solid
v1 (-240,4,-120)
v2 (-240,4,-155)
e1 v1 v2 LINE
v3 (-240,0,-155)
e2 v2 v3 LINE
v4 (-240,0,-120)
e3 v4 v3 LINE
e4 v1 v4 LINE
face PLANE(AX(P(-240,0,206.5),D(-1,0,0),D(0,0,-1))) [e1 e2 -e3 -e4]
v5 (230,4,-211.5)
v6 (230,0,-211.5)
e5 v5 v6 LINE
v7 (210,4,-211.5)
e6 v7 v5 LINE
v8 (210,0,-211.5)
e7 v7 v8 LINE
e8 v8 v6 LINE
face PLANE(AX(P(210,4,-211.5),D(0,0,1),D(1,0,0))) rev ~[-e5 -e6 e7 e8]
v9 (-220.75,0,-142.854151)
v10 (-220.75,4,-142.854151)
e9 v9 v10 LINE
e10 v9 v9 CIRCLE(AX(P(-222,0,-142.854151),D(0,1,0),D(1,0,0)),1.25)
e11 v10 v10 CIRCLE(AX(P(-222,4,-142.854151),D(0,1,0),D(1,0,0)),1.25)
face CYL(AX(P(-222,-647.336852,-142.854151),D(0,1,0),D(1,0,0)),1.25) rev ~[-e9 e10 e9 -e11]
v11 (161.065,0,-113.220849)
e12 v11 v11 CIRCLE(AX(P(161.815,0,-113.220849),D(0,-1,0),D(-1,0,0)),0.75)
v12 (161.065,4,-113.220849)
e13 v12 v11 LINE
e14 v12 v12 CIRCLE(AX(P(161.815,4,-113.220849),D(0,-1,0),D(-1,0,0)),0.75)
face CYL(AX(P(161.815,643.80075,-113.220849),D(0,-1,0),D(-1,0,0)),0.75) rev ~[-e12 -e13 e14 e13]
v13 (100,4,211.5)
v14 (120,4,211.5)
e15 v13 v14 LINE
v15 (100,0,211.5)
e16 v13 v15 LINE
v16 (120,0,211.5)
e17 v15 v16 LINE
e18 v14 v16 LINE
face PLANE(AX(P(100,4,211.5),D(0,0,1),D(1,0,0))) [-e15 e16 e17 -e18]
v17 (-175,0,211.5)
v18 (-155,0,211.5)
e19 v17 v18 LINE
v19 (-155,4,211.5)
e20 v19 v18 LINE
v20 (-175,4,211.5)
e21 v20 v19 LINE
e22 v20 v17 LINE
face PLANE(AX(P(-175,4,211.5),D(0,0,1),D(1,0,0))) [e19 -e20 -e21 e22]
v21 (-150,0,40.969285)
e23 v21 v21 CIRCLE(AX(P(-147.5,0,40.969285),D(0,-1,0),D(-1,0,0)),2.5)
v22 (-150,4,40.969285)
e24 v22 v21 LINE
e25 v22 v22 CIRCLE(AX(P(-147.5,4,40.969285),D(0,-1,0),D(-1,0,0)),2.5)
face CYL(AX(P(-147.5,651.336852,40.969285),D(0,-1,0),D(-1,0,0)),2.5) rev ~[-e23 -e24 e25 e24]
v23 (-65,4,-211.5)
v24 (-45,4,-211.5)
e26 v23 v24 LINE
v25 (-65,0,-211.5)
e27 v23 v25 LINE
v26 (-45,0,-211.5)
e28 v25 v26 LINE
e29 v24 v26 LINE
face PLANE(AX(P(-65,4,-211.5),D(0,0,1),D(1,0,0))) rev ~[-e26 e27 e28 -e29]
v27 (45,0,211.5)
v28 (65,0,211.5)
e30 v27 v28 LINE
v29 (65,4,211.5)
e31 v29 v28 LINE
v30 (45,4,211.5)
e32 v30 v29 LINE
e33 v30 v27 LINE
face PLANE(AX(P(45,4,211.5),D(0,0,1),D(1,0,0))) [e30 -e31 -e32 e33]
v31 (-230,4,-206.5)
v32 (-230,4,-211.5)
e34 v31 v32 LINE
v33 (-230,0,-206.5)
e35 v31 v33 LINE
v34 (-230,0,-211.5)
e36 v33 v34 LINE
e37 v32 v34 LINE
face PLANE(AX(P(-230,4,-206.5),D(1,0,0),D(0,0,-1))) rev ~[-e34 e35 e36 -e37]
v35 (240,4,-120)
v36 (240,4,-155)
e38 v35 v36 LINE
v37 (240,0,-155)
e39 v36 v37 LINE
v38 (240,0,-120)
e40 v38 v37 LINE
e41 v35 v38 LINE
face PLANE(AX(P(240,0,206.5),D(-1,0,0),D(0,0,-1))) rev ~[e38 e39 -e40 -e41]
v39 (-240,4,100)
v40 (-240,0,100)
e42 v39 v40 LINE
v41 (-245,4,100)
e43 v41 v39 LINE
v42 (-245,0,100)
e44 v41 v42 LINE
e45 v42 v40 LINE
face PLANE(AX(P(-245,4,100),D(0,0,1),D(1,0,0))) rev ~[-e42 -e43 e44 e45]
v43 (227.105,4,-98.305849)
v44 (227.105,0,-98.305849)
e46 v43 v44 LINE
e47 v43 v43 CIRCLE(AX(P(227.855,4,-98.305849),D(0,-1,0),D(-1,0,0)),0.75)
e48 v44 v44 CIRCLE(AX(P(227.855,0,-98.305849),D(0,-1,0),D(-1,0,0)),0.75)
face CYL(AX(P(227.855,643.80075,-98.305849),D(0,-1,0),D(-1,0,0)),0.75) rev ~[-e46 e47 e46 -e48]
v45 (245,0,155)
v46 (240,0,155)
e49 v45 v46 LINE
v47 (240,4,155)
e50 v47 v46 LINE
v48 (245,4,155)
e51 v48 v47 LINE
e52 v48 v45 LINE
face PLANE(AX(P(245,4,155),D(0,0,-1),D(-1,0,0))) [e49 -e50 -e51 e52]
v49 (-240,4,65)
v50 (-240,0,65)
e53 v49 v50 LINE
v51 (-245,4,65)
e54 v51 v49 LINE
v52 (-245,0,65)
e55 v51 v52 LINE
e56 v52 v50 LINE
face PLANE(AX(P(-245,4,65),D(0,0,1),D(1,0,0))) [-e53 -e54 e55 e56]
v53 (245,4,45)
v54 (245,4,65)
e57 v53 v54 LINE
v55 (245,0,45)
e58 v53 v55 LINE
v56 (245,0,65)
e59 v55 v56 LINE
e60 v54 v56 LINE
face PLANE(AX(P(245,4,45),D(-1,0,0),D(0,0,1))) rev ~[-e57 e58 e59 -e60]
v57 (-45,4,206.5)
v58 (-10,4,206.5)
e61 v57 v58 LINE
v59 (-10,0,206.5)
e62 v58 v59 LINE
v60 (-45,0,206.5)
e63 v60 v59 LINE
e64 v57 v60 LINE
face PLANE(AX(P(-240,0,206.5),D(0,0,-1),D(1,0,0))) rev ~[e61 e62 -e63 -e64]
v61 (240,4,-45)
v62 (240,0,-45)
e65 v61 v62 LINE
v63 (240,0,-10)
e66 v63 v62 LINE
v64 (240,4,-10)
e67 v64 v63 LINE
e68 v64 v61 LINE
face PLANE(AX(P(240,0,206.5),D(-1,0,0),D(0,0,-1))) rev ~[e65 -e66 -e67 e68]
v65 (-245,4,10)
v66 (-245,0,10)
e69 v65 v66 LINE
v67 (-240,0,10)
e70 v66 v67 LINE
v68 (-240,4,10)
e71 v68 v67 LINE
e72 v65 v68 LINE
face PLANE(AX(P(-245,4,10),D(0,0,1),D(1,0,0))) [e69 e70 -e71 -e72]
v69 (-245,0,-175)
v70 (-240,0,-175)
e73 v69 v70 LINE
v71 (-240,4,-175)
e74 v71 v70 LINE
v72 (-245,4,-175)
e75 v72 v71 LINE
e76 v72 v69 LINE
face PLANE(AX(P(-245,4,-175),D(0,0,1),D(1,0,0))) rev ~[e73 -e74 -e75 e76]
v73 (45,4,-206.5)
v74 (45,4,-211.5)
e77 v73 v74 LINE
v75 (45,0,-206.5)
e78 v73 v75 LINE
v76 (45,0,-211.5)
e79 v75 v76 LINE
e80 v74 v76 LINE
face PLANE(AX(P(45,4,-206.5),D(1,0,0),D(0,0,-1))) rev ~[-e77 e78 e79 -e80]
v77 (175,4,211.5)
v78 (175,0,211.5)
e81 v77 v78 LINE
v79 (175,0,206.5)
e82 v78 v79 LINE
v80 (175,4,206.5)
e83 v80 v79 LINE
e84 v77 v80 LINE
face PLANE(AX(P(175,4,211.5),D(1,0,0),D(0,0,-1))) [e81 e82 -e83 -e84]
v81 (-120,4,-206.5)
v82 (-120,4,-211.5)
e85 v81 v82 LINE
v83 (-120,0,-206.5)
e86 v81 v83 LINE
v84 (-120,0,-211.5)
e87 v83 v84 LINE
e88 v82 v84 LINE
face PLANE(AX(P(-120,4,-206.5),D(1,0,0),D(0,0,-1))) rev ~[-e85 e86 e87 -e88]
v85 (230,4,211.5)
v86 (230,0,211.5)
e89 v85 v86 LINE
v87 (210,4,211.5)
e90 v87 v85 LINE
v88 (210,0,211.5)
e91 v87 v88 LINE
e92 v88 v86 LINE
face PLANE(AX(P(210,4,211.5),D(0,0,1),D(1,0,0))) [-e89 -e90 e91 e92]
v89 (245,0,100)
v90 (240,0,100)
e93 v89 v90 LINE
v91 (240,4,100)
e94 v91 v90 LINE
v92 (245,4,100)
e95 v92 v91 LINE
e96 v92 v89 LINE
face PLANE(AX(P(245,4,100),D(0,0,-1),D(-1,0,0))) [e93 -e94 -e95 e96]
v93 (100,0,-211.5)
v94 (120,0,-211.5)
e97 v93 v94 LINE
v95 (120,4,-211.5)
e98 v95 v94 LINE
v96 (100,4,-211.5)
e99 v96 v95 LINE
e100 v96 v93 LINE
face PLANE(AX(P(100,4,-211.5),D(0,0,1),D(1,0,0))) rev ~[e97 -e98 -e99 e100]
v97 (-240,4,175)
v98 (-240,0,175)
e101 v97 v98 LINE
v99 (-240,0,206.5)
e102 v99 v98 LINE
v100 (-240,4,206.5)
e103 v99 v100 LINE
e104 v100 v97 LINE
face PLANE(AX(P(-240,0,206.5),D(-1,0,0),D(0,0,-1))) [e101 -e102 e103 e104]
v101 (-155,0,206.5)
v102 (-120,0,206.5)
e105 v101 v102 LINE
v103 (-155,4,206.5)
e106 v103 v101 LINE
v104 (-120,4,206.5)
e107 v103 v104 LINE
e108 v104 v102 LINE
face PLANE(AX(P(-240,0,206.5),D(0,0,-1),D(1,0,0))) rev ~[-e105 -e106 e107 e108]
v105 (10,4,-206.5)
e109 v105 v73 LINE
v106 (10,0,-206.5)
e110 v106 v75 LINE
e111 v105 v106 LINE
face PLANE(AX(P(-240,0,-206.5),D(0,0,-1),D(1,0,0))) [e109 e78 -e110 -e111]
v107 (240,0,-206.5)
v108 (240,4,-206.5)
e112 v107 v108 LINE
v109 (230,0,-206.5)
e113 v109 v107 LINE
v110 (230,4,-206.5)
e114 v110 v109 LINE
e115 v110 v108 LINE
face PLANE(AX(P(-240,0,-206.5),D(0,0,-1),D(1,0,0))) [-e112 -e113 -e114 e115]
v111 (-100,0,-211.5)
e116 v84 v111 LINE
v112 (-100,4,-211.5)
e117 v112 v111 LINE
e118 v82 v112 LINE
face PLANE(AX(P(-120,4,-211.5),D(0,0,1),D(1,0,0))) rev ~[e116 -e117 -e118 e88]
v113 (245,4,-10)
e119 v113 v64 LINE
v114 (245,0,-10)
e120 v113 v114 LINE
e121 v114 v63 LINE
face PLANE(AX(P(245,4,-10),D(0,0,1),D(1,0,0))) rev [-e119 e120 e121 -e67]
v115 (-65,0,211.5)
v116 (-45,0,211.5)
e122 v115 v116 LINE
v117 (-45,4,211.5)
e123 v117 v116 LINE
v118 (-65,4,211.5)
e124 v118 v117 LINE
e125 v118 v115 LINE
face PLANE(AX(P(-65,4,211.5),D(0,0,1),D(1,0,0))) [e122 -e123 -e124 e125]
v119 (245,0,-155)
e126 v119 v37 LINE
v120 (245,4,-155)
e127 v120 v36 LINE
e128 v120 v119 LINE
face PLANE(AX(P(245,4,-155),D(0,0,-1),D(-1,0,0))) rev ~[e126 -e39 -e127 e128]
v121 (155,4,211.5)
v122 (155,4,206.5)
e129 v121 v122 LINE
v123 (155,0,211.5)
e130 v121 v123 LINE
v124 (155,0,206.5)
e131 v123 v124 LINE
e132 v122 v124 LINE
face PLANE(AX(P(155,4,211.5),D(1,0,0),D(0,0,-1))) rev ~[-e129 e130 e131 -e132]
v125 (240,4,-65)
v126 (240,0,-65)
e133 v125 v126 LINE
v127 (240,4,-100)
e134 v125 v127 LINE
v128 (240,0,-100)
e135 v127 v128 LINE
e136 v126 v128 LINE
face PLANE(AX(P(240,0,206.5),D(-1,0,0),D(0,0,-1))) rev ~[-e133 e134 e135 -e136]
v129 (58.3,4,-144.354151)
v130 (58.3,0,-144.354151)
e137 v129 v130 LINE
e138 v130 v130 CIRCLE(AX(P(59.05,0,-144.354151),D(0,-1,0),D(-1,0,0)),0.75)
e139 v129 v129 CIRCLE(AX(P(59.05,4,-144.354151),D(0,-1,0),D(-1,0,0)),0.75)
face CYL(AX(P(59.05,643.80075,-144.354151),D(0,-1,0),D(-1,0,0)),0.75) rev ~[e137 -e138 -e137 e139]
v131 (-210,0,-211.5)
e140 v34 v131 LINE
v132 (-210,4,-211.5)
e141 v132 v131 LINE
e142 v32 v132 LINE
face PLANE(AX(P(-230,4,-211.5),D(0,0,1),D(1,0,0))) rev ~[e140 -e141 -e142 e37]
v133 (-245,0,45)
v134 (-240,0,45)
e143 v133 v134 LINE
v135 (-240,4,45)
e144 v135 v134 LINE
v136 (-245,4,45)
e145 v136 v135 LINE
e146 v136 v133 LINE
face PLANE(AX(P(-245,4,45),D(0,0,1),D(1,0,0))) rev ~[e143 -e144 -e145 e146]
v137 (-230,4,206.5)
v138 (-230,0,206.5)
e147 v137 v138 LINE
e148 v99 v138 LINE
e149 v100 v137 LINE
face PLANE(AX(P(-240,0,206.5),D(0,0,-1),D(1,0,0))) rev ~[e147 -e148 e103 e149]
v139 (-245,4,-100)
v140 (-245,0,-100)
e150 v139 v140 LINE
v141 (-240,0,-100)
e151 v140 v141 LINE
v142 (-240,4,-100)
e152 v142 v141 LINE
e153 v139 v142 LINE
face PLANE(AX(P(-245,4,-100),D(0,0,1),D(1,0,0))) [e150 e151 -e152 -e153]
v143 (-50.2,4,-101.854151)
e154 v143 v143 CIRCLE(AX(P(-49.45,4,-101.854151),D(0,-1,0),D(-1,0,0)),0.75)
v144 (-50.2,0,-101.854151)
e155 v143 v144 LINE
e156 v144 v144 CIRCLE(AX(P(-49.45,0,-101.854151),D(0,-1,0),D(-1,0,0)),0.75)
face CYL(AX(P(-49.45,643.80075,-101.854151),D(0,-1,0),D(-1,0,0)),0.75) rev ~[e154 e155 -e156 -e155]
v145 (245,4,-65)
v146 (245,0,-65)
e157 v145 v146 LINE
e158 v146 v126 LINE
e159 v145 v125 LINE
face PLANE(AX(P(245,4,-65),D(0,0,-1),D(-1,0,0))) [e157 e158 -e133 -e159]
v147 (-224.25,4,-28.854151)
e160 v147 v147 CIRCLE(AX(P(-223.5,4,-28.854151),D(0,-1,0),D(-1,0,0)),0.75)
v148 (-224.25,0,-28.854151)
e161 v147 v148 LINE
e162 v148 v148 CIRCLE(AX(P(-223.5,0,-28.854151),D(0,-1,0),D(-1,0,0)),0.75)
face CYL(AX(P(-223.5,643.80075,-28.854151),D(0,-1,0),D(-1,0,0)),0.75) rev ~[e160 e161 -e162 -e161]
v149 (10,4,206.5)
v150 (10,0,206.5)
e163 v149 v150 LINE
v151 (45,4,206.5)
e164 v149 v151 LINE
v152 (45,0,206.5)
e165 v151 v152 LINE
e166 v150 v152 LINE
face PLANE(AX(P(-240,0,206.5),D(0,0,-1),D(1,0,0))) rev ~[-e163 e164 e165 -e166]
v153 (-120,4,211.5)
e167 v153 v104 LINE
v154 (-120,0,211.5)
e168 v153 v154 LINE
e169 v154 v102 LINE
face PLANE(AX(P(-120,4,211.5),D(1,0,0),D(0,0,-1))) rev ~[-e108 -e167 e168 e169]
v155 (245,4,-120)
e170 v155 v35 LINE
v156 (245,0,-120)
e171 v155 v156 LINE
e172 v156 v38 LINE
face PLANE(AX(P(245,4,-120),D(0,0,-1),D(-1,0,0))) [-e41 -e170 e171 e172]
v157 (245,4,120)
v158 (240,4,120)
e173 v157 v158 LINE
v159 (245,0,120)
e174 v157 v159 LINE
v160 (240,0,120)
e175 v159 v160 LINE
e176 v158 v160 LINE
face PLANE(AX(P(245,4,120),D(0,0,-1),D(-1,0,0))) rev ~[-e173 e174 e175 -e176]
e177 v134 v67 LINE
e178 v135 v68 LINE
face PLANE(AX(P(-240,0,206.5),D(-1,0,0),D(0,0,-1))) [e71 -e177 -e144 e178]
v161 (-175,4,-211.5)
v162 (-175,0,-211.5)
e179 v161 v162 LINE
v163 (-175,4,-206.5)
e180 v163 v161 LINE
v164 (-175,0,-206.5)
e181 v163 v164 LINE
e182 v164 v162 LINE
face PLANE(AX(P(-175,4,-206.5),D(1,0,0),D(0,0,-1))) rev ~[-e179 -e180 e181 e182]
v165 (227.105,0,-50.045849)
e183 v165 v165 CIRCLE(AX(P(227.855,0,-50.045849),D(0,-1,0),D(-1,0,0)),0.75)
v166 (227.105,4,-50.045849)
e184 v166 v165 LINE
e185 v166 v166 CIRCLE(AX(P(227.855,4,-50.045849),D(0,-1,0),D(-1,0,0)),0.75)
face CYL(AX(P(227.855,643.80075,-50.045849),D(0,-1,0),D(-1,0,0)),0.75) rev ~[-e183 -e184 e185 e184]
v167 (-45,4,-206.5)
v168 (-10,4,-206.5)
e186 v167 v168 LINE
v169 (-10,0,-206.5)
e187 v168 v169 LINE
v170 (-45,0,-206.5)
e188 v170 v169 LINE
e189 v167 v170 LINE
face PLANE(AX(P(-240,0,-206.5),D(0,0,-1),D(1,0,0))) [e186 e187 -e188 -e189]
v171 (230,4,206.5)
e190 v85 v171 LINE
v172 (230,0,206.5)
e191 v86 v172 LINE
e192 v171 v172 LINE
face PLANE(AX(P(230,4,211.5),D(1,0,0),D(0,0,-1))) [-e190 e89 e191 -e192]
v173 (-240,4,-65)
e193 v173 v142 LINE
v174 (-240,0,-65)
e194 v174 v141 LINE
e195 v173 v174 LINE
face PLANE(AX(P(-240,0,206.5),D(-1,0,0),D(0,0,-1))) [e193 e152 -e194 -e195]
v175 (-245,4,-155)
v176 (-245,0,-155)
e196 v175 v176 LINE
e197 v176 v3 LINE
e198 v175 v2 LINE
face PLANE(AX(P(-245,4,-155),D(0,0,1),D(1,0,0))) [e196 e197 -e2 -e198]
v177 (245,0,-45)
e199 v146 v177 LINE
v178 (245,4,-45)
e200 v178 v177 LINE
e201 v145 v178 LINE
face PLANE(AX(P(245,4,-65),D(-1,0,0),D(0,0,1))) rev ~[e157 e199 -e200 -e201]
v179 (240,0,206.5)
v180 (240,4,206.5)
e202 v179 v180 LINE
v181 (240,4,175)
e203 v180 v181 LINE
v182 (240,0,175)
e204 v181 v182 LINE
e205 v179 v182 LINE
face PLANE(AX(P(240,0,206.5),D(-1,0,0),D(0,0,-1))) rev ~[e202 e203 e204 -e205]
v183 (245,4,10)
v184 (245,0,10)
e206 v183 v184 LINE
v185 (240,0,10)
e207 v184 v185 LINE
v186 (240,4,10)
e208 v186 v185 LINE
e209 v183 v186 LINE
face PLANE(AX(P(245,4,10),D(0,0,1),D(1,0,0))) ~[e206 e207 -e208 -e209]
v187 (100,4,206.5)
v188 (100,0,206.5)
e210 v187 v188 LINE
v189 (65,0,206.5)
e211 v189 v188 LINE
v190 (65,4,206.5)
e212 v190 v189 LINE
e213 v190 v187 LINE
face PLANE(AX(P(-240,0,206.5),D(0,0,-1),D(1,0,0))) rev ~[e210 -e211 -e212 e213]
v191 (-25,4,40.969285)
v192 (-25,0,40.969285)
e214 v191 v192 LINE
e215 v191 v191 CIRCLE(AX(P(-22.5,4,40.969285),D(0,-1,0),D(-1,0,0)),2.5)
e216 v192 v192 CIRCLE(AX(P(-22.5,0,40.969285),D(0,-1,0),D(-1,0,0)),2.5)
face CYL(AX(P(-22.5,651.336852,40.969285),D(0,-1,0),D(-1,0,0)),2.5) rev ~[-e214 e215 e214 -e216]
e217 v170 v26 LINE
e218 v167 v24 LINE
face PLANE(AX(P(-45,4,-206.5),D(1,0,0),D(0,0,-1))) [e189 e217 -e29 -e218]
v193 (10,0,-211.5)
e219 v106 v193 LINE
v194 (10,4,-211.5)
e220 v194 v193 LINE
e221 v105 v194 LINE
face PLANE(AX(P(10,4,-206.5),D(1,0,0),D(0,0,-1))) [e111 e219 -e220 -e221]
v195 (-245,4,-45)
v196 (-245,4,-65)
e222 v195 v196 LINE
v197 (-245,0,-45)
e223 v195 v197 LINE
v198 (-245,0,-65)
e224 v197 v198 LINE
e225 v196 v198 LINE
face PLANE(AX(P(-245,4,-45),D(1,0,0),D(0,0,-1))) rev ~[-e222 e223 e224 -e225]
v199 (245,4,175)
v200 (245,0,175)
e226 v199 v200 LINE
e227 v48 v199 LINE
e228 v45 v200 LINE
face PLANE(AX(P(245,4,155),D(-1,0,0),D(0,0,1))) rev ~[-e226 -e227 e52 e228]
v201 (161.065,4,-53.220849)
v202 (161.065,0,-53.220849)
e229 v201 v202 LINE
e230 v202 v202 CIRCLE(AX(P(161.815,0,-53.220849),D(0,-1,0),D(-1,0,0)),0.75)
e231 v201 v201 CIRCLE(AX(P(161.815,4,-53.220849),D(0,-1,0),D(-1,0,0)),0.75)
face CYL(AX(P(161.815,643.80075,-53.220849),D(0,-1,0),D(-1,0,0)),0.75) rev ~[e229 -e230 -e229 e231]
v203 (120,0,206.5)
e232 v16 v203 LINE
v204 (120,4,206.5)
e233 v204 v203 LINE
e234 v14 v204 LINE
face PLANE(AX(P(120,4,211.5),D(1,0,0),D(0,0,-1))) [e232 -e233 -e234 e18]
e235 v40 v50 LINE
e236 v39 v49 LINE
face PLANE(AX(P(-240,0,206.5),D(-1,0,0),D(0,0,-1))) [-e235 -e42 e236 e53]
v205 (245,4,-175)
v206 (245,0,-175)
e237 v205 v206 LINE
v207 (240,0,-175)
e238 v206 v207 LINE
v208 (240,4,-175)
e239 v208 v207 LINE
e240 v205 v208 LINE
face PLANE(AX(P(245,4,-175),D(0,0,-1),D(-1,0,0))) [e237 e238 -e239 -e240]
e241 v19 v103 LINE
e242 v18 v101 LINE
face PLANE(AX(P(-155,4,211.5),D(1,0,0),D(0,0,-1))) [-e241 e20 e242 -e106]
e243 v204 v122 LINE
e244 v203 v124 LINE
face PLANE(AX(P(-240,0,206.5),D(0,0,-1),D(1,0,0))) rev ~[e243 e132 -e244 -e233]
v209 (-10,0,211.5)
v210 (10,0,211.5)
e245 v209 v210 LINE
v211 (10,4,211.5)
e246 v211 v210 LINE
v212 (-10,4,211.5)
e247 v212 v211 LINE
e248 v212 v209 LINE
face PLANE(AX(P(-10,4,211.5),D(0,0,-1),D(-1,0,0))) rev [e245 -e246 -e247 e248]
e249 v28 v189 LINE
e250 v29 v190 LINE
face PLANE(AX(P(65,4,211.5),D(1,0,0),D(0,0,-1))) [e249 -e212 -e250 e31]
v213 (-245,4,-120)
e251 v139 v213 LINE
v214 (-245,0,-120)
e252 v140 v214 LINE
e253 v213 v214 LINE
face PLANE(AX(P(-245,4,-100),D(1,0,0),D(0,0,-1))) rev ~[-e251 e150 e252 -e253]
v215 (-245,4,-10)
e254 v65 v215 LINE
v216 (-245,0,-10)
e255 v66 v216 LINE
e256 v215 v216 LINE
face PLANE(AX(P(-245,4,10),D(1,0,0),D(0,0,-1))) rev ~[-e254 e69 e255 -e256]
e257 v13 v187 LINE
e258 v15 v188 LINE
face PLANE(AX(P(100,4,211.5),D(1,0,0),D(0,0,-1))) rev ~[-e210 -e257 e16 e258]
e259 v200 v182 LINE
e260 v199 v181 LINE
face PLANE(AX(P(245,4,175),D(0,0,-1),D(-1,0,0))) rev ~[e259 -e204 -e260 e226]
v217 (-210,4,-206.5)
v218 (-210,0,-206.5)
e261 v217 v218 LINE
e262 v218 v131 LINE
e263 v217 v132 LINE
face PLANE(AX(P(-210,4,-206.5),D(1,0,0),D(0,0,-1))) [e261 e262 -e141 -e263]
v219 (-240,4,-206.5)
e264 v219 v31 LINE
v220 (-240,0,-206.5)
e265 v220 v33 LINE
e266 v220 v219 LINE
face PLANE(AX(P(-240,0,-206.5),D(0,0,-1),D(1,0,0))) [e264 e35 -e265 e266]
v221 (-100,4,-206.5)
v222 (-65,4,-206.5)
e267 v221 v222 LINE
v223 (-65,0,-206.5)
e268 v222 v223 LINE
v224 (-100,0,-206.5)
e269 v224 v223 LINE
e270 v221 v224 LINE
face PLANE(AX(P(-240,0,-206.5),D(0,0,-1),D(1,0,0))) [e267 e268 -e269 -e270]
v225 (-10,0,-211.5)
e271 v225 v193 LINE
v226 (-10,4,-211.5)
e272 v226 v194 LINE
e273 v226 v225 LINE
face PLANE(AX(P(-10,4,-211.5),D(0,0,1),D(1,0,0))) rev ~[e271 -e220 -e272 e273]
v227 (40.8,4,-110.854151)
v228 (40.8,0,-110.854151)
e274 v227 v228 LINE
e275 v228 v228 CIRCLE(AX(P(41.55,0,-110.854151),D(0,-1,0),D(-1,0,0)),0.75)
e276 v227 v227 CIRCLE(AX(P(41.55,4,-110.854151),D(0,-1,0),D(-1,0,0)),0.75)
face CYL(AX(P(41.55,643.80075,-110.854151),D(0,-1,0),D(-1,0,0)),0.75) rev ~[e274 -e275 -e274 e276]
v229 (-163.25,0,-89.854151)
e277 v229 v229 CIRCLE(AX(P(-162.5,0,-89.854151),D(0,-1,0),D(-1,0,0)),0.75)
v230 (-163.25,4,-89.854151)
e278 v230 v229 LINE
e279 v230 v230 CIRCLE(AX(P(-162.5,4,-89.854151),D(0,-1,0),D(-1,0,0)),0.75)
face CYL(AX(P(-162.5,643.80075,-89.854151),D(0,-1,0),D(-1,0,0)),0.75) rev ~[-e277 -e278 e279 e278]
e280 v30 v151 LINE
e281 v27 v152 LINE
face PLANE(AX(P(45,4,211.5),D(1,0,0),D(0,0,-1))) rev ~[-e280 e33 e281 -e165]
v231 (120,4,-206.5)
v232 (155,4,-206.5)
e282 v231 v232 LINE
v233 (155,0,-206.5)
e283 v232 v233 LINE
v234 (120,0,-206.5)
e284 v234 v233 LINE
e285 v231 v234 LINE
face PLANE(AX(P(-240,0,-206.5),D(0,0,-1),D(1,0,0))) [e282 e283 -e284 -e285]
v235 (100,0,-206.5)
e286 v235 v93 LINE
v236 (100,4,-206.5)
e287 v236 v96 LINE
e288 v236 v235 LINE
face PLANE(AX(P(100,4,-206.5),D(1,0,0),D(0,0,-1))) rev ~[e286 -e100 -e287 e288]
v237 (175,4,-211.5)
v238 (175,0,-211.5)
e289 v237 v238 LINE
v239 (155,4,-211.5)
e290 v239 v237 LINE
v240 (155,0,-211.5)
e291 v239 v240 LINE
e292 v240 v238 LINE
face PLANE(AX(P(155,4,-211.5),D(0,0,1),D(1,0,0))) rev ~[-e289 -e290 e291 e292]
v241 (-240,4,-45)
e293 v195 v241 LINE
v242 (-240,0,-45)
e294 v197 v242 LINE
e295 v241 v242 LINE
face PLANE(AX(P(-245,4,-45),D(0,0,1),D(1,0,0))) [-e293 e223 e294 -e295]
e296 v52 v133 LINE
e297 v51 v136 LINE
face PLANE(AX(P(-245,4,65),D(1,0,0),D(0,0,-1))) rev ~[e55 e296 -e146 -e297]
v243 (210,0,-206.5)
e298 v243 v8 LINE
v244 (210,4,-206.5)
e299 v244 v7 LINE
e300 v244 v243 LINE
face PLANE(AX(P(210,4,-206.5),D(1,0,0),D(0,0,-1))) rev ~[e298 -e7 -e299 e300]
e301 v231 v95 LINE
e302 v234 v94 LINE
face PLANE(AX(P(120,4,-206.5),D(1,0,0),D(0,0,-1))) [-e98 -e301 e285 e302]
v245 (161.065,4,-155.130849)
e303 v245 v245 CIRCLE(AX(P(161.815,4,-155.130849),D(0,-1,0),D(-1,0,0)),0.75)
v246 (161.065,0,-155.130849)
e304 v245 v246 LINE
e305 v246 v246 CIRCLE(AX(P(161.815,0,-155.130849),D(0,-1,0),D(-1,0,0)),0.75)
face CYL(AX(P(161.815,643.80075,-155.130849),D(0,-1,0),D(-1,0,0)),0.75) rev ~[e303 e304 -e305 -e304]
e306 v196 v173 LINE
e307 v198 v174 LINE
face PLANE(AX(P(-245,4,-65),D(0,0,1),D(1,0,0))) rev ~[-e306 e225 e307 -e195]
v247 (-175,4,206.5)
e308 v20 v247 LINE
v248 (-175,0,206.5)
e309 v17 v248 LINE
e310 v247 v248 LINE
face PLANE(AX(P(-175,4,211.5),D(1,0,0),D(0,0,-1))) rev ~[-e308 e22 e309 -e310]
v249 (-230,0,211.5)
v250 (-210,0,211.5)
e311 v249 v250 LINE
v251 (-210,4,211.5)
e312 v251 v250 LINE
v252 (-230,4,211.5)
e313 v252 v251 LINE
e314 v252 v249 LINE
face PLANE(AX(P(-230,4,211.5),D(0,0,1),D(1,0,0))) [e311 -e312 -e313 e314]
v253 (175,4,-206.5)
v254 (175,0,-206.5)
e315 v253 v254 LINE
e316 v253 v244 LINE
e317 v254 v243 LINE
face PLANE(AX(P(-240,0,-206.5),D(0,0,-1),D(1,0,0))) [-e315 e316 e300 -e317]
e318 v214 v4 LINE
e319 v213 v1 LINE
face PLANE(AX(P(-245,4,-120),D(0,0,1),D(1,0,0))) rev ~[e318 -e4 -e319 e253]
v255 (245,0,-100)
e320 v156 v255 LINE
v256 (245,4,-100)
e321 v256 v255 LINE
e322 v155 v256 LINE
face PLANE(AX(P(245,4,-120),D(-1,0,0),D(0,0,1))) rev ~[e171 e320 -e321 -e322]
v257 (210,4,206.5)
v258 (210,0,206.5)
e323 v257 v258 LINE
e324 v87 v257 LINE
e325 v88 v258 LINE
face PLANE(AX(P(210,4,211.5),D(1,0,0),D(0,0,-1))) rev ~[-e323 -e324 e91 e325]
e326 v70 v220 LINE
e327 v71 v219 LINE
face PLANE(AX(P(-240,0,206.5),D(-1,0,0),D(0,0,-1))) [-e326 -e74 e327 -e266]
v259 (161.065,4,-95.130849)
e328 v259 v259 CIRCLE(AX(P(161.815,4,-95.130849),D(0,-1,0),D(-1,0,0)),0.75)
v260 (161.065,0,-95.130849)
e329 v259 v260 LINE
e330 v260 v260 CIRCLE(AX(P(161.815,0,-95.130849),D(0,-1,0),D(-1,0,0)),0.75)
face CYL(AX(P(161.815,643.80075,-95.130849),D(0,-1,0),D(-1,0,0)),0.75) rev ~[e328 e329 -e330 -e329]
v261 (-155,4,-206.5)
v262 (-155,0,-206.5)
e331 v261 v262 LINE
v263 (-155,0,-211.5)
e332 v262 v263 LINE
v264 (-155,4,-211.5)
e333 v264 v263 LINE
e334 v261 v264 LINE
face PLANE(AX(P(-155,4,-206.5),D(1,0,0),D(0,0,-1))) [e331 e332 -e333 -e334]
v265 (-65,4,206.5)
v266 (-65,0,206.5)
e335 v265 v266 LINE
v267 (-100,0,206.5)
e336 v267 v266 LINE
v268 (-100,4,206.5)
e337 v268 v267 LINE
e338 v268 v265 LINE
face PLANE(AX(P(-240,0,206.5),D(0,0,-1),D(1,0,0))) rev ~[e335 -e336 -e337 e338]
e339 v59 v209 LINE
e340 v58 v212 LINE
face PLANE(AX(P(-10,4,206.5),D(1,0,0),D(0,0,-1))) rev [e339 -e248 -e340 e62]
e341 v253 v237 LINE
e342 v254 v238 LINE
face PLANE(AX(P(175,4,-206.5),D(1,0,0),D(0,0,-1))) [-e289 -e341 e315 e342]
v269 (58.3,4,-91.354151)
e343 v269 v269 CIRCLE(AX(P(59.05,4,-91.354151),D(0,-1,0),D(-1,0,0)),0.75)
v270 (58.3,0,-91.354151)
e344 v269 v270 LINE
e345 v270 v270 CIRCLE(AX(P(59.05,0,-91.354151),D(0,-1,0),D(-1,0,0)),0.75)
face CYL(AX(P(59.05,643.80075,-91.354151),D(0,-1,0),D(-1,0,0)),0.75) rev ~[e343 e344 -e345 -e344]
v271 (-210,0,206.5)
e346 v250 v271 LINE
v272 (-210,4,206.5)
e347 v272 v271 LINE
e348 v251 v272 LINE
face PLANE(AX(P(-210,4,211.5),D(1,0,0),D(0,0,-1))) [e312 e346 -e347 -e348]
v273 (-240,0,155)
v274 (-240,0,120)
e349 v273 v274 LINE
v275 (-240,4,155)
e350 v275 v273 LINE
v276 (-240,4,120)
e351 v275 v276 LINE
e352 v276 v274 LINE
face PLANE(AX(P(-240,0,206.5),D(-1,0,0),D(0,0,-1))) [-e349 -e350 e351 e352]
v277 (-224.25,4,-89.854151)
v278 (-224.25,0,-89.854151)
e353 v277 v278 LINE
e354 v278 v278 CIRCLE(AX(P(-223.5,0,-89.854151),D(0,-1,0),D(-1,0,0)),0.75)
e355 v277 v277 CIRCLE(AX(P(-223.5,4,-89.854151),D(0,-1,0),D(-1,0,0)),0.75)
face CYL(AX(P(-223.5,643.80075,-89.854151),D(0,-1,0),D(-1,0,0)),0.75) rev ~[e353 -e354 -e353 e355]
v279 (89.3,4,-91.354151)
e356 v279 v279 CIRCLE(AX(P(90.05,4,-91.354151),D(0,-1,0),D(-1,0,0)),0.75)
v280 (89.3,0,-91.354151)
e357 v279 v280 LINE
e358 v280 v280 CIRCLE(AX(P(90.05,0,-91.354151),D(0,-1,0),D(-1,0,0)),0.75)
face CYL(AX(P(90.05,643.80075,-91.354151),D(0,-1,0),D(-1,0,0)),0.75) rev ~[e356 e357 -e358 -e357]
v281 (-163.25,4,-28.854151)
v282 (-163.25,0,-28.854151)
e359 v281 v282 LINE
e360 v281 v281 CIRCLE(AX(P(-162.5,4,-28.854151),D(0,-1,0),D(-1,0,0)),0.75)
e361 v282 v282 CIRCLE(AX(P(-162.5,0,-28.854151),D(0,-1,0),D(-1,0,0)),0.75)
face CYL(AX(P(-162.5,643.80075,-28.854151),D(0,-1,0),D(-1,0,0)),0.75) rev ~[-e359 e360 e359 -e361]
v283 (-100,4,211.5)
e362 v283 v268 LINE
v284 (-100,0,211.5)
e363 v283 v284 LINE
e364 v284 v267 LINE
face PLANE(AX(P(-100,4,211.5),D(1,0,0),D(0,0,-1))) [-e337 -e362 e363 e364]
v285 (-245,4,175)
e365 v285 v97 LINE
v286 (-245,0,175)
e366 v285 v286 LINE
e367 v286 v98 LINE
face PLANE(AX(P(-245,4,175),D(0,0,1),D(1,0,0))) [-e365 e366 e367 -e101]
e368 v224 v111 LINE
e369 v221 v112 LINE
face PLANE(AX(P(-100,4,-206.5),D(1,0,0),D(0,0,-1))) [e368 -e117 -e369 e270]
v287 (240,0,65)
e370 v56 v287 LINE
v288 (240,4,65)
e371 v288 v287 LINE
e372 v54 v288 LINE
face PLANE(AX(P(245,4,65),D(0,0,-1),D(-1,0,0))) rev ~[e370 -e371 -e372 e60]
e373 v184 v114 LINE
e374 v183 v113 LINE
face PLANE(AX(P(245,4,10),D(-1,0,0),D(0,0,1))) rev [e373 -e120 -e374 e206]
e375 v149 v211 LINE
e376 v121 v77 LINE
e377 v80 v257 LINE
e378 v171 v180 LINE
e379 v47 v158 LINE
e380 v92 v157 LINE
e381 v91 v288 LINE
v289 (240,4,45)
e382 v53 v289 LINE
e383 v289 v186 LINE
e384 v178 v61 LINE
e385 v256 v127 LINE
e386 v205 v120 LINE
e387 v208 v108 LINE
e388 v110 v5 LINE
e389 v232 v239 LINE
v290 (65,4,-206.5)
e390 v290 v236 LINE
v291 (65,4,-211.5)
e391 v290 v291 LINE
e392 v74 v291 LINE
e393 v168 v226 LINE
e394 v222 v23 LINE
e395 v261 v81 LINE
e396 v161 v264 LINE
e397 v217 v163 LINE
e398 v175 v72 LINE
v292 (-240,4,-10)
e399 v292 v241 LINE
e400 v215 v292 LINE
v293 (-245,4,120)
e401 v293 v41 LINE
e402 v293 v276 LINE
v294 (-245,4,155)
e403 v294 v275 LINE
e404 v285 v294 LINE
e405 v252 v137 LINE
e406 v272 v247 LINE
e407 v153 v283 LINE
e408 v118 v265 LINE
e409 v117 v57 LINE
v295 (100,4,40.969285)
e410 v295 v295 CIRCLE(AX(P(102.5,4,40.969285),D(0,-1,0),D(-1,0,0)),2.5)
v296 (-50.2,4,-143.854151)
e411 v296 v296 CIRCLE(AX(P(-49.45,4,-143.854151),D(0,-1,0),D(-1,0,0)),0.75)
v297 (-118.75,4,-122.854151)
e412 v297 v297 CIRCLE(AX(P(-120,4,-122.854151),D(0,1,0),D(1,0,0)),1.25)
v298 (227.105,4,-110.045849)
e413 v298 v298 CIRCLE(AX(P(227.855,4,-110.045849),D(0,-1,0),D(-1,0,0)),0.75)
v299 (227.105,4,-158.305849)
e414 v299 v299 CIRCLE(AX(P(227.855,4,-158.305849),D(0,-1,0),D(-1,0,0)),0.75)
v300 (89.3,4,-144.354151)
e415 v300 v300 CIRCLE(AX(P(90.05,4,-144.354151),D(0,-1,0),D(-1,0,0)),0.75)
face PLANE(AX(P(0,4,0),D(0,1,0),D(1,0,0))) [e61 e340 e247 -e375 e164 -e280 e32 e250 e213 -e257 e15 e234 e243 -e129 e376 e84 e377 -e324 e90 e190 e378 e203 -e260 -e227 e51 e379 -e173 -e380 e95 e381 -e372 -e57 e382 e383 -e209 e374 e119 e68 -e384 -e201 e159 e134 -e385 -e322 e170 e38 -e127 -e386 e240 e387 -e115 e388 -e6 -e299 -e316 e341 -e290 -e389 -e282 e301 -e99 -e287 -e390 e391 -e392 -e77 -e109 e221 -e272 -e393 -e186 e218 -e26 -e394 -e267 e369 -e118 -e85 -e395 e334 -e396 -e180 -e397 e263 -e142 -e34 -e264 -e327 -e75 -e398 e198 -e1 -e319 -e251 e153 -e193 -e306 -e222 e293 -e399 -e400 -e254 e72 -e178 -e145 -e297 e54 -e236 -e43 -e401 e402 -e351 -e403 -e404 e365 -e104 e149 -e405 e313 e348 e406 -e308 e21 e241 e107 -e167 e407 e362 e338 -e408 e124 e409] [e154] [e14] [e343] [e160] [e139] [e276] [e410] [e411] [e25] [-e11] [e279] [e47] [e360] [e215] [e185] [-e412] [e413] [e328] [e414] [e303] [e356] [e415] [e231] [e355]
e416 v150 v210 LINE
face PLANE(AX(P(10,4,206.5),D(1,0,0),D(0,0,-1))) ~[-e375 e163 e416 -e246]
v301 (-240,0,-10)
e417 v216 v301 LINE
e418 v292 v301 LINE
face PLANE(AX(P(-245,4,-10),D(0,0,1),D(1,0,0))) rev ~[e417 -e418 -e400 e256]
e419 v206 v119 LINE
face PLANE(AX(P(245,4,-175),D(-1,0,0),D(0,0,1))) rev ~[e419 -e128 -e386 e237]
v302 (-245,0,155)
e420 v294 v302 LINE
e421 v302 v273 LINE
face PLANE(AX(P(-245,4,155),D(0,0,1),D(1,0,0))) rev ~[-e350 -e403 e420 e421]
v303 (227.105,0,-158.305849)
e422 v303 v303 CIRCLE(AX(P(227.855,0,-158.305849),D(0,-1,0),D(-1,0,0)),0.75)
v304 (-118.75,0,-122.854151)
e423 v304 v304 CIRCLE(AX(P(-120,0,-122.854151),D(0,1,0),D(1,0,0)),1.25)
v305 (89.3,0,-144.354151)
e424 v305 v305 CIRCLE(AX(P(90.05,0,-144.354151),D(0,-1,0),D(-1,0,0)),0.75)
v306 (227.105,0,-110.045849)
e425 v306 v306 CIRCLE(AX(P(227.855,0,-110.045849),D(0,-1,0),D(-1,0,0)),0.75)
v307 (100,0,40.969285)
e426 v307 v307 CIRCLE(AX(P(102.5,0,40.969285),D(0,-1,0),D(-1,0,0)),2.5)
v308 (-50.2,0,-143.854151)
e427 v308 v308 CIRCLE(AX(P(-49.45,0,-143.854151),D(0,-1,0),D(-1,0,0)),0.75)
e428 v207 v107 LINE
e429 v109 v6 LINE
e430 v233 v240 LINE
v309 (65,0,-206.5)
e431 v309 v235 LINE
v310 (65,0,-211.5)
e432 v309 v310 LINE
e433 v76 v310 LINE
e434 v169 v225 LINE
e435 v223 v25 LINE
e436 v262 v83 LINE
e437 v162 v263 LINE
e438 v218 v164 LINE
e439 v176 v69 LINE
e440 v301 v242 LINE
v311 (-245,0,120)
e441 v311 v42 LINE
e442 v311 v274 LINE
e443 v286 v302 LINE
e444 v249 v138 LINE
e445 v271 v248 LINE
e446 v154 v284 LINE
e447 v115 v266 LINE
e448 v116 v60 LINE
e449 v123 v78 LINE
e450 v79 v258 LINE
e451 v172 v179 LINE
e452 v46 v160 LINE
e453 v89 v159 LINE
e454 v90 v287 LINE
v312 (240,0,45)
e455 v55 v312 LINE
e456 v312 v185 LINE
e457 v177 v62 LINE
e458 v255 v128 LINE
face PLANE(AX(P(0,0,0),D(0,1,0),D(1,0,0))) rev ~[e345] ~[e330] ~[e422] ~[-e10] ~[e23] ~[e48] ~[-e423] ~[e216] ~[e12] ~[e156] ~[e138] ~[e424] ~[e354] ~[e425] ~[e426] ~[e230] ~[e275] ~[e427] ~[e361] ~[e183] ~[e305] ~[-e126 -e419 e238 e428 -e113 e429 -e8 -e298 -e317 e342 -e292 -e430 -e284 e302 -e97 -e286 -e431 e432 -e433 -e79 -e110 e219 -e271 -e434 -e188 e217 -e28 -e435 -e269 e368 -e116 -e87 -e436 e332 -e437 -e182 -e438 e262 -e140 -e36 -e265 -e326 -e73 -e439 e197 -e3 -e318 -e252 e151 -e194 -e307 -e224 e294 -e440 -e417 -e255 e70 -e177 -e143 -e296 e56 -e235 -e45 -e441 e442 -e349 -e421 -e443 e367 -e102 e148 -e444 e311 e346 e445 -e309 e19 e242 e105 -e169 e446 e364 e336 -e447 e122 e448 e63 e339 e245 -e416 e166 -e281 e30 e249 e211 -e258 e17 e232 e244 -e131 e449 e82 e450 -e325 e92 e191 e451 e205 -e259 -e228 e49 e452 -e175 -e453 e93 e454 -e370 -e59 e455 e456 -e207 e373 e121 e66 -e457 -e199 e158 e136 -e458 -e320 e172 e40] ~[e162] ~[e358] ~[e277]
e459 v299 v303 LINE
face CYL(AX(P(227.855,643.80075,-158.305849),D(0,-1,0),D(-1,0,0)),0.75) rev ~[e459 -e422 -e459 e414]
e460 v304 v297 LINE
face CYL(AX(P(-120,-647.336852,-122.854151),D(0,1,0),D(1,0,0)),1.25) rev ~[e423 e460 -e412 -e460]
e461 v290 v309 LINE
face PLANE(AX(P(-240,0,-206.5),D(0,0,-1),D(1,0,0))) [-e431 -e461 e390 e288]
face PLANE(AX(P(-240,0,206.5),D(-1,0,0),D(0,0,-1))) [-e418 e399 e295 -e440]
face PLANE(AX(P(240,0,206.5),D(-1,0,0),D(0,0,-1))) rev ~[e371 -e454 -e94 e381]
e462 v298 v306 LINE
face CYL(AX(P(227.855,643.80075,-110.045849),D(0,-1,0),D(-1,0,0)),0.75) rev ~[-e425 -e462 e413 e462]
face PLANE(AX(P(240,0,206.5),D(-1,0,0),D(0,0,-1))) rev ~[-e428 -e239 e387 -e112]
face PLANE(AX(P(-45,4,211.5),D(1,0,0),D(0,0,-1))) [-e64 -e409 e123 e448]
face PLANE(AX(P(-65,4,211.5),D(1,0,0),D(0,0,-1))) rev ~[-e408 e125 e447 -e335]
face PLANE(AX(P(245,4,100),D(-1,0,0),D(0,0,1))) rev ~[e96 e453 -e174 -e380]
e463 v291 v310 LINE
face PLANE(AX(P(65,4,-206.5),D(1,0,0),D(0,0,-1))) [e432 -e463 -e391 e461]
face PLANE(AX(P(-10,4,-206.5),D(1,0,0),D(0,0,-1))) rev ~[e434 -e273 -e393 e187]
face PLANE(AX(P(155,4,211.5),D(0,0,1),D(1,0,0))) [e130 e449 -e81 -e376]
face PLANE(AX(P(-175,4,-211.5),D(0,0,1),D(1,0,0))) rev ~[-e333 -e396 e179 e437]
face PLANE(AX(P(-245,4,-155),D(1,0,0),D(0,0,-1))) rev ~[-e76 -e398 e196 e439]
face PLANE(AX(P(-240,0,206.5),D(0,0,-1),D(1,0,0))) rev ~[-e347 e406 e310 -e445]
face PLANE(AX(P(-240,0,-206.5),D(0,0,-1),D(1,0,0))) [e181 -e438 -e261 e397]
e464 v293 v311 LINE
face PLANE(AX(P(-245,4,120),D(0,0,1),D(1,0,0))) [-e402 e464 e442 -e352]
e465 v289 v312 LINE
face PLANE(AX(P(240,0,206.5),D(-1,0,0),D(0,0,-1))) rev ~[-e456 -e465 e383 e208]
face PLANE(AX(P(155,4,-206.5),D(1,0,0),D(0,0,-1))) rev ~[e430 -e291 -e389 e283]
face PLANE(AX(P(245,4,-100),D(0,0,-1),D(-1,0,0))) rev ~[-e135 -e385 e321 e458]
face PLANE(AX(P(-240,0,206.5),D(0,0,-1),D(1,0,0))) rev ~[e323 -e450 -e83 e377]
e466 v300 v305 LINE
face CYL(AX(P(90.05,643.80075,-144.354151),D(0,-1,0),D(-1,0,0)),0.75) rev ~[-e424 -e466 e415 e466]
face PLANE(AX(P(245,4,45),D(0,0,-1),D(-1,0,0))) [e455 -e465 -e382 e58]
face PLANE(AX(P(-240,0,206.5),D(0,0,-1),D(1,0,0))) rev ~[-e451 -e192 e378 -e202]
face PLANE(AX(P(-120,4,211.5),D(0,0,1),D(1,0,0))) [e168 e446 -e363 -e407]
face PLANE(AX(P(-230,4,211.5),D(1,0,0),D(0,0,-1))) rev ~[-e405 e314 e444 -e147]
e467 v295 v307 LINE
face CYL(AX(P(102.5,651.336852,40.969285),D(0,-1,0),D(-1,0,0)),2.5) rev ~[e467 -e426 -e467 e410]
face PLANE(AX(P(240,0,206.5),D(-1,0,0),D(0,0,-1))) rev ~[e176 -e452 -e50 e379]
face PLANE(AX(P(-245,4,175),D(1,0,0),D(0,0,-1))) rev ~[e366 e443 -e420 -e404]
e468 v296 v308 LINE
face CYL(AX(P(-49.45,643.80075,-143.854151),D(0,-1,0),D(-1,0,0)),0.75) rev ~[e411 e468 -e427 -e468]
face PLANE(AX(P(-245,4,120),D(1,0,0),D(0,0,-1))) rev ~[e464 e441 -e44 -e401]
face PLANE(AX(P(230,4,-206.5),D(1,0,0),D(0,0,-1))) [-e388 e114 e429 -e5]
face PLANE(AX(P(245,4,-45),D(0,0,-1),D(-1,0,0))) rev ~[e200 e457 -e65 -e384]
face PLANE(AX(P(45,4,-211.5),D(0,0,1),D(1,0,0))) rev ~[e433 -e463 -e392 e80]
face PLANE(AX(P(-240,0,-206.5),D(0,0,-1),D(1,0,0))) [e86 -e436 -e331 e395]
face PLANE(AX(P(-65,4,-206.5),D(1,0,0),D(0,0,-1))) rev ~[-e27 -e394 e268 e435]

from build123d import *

# Parameters (mm, degrees)
SKETCH1_W                        = 480
SKETCH1_H                        = 413
BASE_DEPTH                       = 4
SKETCH2_W                        = 20
SKETCH2_H                        = 5
TOP_TABS_DEFINITION_DEPTH        = 4
TOP_TABS_PATTERN_COUNT           = 5
TOP_TABS_PATTERN_PITCH           = 55
TOP_TABS_PATTERN_COL_COUNT       = 5
TOP_TABS_PATTERN_COL_PITCH       = 55
BOTTOM_TABS_COPY_1_SKETCH_W      = 20
BOTTOM_TABS_COPY_1_SKETCH_H      = 5
BOTTOM_TABS_COPY_1_DEPTH         = 4
BOTTOM_TABS_COPY_2_SKETCH_W      = 20
BOTTOM_TABS_COPY_2_SKETCH_H      = 5
BOTTOM_TABS_COPY_2_DEPTH         = 4
BOTTOM_TABS_COPY_3_SKETCH_W      = 20
BOTTOM_TABS_COPY_3_SKETCH_H      = 5
BOTTOM_TABS_COPY_3_DEPTH         = 4
BOTTOM_TABS_COPY_4_SKETCH_W      = 20
BOTTOM_TABS_COPY_4_SKETCH_H      = 5
BOTTOM_TABS_COPY_4_DEPTH         = 4
BOTTOM_TABS_COPY_5_SKETCH_W      = 20
BOTTOM_TABS_COPY_5_SKETCH_H      = 5
BOTTOM_TABS_COPY_5_DEPTH         = 4
BOTTOM_TABS_COPY_6_SKETCH_W      = 20
BOTTOM_TABS_COPY_6_SKETCH_H      = 5
BOTTOM_TABS_COPY_6_DEPTH         = 4
BOTTOM_TABS_COPY_7_SKETCH_W      = 20
BOTTOM_TABS_COPY_7_SKETCH_H      = 5
BOTTOM_TABS_COPY_7_DEPTH         = 4
BOTTOM_TABS_COPY_8_SKETCH_W      = 20
BOTTOM_TABS_COPY_8_SKETCH_H      = 5
BOTTOM_TABS_COPY_8_DEPTH         = 4
ELECTRONICS_MOUNTING_HOLES_1_5_D = 1.5
SKETCH7_W                        = 5
SKETCH7_H                        = 20
LEFT_TABS_DEFINITION_DEPTH       = 4
LEFT_TABS_PATTERN_COUNT          = 4
LEFT_TABS_PATTERN_PITCH          = 55
LEFT_TABS_PATTERN_COL_COUNT      = 4
LEFT_TABS_PATTERN_COL_PITCH      = 55
RIGHT_TABS_COPY_1_SKETCH_W       = 5
RIGHT_TABS_COPY_1_SKETCH_H       = 20
RIGHT_TABS_COPY_1_DEPTH          = 4
RIGHT_TABS_COPY_2_SKETCH_W       = 5
RIGHT_TABS_COPY_2_SKETCH_H       = 20
RIGHT_TABS_COPY_2_DEPTH          = 4
RIGHT_TABS_COPY_3_SKETCH_W       = 5
RIGHT_TABS_COPY_3_SKETCH_H       = 20
RIGHT_TABS_COPY_3_DEPTH          = 4
RIGHT_TABS_COPY_4_SKETCH_W       = 5
RIGHT_TABS_COPY_4_SKETCH_H       = 20
RIGHT_TABS_COPY_4_DEPTH          = 4
RIGHT_TABS_COPY_5_SKETCH_W       = 5
RIGHT_TABS_COPY_5_SKETCH_H       = 20
RIGHT_TABS_COPY_5_DEPTH          = 4
RIGHT_TABS_COPY_6_SKETCH_W       = 5
RIGHT_TABS_COPY_6_SKETCH_H       = 20
RIGHT_TABS_COPY_6_DEPTH          = 4
M6_CLEARANCE_HOLE1_D             = 5
TAP_DRILL_FOR_M3X0_5_TAP1_D      = 2.5


with BuildPart() as part:
    # Sketch1 → Base (new body)
    with BuildSketch(Plane(origin=(0, 0, 0), x_dir=(1, 0, 0), z_dir=(0, 1, 0))):
        Rectangle(SKETCH1_W, SKETCH1_H)
    extrude(amount=BASE_DEPTH)

    # Sketch2 → Top Tabs Definition (add)
    with BuildSketch(Plane(origin=(0, 4, 0), x_dir=(1, 0, 0), z_dir=(0, 1, 0))):
        with Locations((0, 209)):
            Rectangle(SKETCH2_W, SKETCH2_H)
    top_tabs_definition = extrude(amount=-TOP_TABS_DEFINITION_DEPTH)

    # Top Tabs Pattern: Top Tabs Definition ×5
    with Locations(*[(-i * TOP_TABS_PATTERN_PITCH, 0, 0) for i in range(1, TOP_TABS_PATTERN_COUNT)]):
        add(top_tabs_definition)

    # Top Tabs Pattern col: Top Tabs Definition ×5
    with Locations(*[(i * TOP_TABS_PATTERN_COL_PITCH, 0, 0) for i in range(1, TOP_TABS_PATTERN_COL_COUNT)]):
        add(top_tabs_definition)

    # Bottom Tabs: Top Tabs Definition across plane
    add(top_tabs_definition.mirror(Plane.XY))

    # Bottom Tabs copy 1 sketch → Bottom Tabs copy 1 (add)
    with BuildSketch(Plane(origin=(-55, 4, 0), x_dir=(1, 0, 0), z_dir=(0, 1, 0))):
        with Locations((0, -209)):
            Rectangle(BOTTOM_TABS_COPY_1_SKETCH_W, BOTTOM_TABS_COPY_1_SKETCH_H)
    extrude(amount=-BOTTOM_TABS_COPY_1_DEPTH)

    # Bottom Tabs copy 2 sketch → Bottom Tabs copy 2 (add)
    with BuildSketch(Plane(origin=(-110, 4, 0), x_dir=(1, 0, 0), z_dir=(0, 1, 0))):
        with Locations((0, -209)):
            Rectangle(BOTTOM_TABS_COPY_2_SKETCH_W, BOTTOM_TABS_COPY_2_SKETCH_H)
    extrude(amount=-BOTTOM_TABS_COPY_2_DEPTH)

    # Bottom Tabs copy 3 sketch → Bottom Tabs copy 3 (add)
    with BuildSketch(Plane(origin=(-165, 4, 0), x_dir=(1, 0, 0), z_dir=(0, 1, 0))):
        with Locations((0, -209)):
            Rectangle(BOTTOM_TABS_COPY_3_SKETCH_W, BOTTOM_TABS_COPY_3_SKETCH_H)
    extrude(amount=-BOTTOM_TABS_COPY_3_DEPTH)

    # Bottom Tabs copy 4 sketch → Bottom Tabs copy 4 (add)
    with BuildSketch(Plane(origin=(-220, 4, 0), x_dir=(1, 0, 0), z_dir=(0, 1, 0))):
        with Locations((0, -209)):
            Rectangle(BOTTOM_TABS_COPY_4_SKETCH_W, BOTTOM_TABS_COPY_4_SKETCH_H)
    extrude(amount=-BOTTOM_TABS_COPY_4_DEPTH)

    # Bottom Tabs copy 5 sketch → Bottom Tabs copy 5 (add)
    with BuildSketch(Plane(origin=(55, 4, 0), x_dir=(1, 0, 0), z_dir=(0, 1, 0))):
        with Locations((0, -209)):
            Rectangle(BOTTOM_TABS_COPY_5_SKETCH_W, BOTTOM_TABS_COPY_5_SKETCH_H)
    extrude(amount=-BOTTOM_TABS_COPY_5_DEPTH)

    # Bottom Tabs copy 6 sketch → Bottom Tabs copy 6 (add)
    with BuildSketch(Plane(origin=(110, 4, 0), x_dir=(1, 0, 0), z_dir=(0, 1, 0))):
        with Locations((0, -209)):
            Rectangle(BOTTOM_TABS_COPY_6_SKETCH_W, BOTTOM_TABS_COPY_6_SKETCH_H)
    extrude(amount=-BOTTOM_TABS_COPY_6_DEPTH)

    # Bottom Tabs copy 7 sketch → Bottom Tabs copy 7 (add)
    with BuildSketch(Plane(origin=(165, 4, 0), x_dir=(1, 0, 0), z_dir=(0, 1, 0))):
        with Locations((0, -209)):
            Rectangle(BOTTOM_TABS_COPY_7_SKETCH_W, BOTTOM_TABS_COPY_7_SKETCH_H)
    extrude(amount=-BOTTOM_TABS_COPY_7_DEPTH)

    # Bottom Tabs copy 8 sketch → Bottom Tabs copy 8 (add)
    with BuildSketch(Plane(origin=(220, 4, 0), x_dir=(1, 0, 0), z_dir=(0, 1, 0))):
        with Locations((0, -209)):
            Rectangle(BOTTOM_TABS_COPY_8_SKETCH_W, BOTTOM_TABS_COPY_8_SKETCH_H)
    extrude(amount=-BOTTOM_TABS_COPY_8_DEPTH)

    # Electronics Mounting Holes (1.5) (through all)
    with Locations(Plane(origin=(0, 4, 0), x_dir=(1, 0, 0), z_dir=(0, 1, 0))):
        with Locations((-49.45, 143.854151385), (-49.45, 101.854151385), (41.55, 110.854151385), (59.05, 144.354151385), (90.05, 144.354151385), (90.05, 91.354151385), (59.05, 91.354151385), (161.815, 95.130848615), (161.815, 53.220848615), (161.815, 155.130848615), (161.815, 113.220848615), (227.855, 110.045848615), (227.855, 158.305848615), (227.855, 50.045848615), (227.855, 98.305848615), (-162.5, 28.854151385), (-162.5, 89.854151385), (-223.5, 89.854151385), (-223.5, 28.854151385)):
            Hole(ELECTRONICS_MOUNTING_HOLES_1_5_D / 2)

    # Sketch7 → Left Tabs Definition (add)
    with BuildSketch(Plane(origin=(0, 4, 0), x_dir=(1, 0, 0), z_dir=(0, 1, 0))):
        with Locations((-242.5, 0)):
            Rectangle(SKETCH7_W, SKETCH7_H)
    left_tabs_definition = extrude(amount=-LEFT_TABS_DEFINITION_DEPTH)

    # Left Tabs Pattern: Left Tabs Definition ×4
    with Locations(*[(0, 0, -i * LEFT_TABS_PATTERN_PITCH) for i in range(1, LEFT_TABS_PATTERN_COUNT)]):
        add(left_tabs_definition)

    # Left Tabs Pattern col: Left Tabs Definition ×4
    with Locations(*[(0, 0, i * LEFT_TABS_PATTERN_COL_PITCH) for i in range(1, LEFT_TABS_PATTERN_COL_COUNT)]):
        add(left_tabs_definition)

    # Right Tabs: Left Tabs Definition across plane
    add(left_tabs_definition.mirror(Plane(origin=(0, 0, 0), x_dir=(0, 0, 1), z_dir=(1, 0, 0))))

    # Right Tabs copy 1 sketch → Right Tabs copy 1 (add)
    with BuildSketch(Plane(origin=(0, 4, -55), x_dir=(-1, 0, 0), z_dir=(0, 1, 0))):
        with Locations((-242.5, 0)):
            Rectangle(RIGHT_TABS_COPY_1_SKETCH_W, RIGHT_TABS_COPY_1_SKETCH_H)
    extrude(amount=-RIGHT_TABS_COPY_1_DEPTH)

    # Right Tabs copy 2 sketch → Right Tabs copy 2 (add)
    with BuildSketch(Plane(origin=(0, 4, -110), x_dir=(-1, 0, 0), z_dir=(0, 1, 0))):
        with Locations((-242.5, 0)):
            Rectangle(RIGHT_TABS_COPY_2_SKETCH_W, RIGHT_TABS_COPY_2_SKETCH_H)
    extrude(amount=-RIGHT_TABS_COPY_2_DEPTH)

    # Right Tabs copy 3 sketch → Right Tabs copy 3 (add)
    with BuildSketch(Plane(origin=(0, 4, -165), x_dir=(-1, 0, 0), z_dir=(0, 1, 0))):
        with Locations((-242.5, 0)):
            Rectangle(RIGHT_TABS_COPY_3_SKETCH_W, RIGHT_TABS_COPY_3_SKETCH_H)
    extrude(amount=-RIGHT_TABS_COPY_3_DEPTH)

    # Right Tabs copy 4 sketch → Right Tabs copy 4 (add)
    with BuildSketch(Plane(origin=(0, 4, 55), x_dir=(-1, 0, 0), z_dir=(0, 1, 0))):
        with Locations((-242.5, 0)):
            Rectangle(RIGHT_TABS_COPY_4_SKETCH_W, RIGHT_TABS_COPY_4_SKETCH_H)
    extrude(amount=-RIGHT_TABS_COPY_4_DEPTH)

    # Right Tabs copy 5 sketch → Right Tabs copy 5 (add)
    with BuildSketch(Plane(origin=(0, 4, 110), x_dir=(-1, 0, 0), z_dir=(0, 1, 0))):
        with Locations((-242.5, 0)):
            Rectangle(RIGHT_TABS_COPY_5_SKETCH_W, RIGHT_TABS_COPY_5_SKETCH_H)
    extrude(amount=-RIGHT_TABS_COPY_5_DEPTH)

    # Right Tabs copy 6 sketch → Right Tabs copy 6 (add)
    with BuildSketch(Plane(origin=(0, 4, 165), x_dir=(-1, 0, 0), z_dir=(0, 1, 0))):
        with Locations((-242.5, 0)):
            Rectangle(RIGHT_TABS_COPY_6_SKETCH_W, RIGHT_TABS_COPY_6_SKETCH_H)
    extrude(amount=-RIGHT_TABS_COPY_6_DEPTH)

    # M6 Clearance Hole1 (through all)
    with Locations(Plane(origin=(0, 4, 0), x_dir=(1, 0, 0), z_dir=(0, 1, 0))):
        with Locations((-147.5, -40.969284902), (-22.5, -40.969284902), (102.5, -40.969284902)):
            Hole(M6_CLEARANCE_HOLE1_D / 2)

    # Tap Drill for M3x0.5 Tap1 (through all)
    with Locations(Plane(origin=(0, 0, 0), x_dir=(-1, 0, 0), z_dir=(0, -1, 0))):
        with Locations((120, 122.854151385), (222, 142.854151385)):
            Hole(TAP_DRILL_FOR_M3X0_5_TAP1_D / 2)


solid = part.part
